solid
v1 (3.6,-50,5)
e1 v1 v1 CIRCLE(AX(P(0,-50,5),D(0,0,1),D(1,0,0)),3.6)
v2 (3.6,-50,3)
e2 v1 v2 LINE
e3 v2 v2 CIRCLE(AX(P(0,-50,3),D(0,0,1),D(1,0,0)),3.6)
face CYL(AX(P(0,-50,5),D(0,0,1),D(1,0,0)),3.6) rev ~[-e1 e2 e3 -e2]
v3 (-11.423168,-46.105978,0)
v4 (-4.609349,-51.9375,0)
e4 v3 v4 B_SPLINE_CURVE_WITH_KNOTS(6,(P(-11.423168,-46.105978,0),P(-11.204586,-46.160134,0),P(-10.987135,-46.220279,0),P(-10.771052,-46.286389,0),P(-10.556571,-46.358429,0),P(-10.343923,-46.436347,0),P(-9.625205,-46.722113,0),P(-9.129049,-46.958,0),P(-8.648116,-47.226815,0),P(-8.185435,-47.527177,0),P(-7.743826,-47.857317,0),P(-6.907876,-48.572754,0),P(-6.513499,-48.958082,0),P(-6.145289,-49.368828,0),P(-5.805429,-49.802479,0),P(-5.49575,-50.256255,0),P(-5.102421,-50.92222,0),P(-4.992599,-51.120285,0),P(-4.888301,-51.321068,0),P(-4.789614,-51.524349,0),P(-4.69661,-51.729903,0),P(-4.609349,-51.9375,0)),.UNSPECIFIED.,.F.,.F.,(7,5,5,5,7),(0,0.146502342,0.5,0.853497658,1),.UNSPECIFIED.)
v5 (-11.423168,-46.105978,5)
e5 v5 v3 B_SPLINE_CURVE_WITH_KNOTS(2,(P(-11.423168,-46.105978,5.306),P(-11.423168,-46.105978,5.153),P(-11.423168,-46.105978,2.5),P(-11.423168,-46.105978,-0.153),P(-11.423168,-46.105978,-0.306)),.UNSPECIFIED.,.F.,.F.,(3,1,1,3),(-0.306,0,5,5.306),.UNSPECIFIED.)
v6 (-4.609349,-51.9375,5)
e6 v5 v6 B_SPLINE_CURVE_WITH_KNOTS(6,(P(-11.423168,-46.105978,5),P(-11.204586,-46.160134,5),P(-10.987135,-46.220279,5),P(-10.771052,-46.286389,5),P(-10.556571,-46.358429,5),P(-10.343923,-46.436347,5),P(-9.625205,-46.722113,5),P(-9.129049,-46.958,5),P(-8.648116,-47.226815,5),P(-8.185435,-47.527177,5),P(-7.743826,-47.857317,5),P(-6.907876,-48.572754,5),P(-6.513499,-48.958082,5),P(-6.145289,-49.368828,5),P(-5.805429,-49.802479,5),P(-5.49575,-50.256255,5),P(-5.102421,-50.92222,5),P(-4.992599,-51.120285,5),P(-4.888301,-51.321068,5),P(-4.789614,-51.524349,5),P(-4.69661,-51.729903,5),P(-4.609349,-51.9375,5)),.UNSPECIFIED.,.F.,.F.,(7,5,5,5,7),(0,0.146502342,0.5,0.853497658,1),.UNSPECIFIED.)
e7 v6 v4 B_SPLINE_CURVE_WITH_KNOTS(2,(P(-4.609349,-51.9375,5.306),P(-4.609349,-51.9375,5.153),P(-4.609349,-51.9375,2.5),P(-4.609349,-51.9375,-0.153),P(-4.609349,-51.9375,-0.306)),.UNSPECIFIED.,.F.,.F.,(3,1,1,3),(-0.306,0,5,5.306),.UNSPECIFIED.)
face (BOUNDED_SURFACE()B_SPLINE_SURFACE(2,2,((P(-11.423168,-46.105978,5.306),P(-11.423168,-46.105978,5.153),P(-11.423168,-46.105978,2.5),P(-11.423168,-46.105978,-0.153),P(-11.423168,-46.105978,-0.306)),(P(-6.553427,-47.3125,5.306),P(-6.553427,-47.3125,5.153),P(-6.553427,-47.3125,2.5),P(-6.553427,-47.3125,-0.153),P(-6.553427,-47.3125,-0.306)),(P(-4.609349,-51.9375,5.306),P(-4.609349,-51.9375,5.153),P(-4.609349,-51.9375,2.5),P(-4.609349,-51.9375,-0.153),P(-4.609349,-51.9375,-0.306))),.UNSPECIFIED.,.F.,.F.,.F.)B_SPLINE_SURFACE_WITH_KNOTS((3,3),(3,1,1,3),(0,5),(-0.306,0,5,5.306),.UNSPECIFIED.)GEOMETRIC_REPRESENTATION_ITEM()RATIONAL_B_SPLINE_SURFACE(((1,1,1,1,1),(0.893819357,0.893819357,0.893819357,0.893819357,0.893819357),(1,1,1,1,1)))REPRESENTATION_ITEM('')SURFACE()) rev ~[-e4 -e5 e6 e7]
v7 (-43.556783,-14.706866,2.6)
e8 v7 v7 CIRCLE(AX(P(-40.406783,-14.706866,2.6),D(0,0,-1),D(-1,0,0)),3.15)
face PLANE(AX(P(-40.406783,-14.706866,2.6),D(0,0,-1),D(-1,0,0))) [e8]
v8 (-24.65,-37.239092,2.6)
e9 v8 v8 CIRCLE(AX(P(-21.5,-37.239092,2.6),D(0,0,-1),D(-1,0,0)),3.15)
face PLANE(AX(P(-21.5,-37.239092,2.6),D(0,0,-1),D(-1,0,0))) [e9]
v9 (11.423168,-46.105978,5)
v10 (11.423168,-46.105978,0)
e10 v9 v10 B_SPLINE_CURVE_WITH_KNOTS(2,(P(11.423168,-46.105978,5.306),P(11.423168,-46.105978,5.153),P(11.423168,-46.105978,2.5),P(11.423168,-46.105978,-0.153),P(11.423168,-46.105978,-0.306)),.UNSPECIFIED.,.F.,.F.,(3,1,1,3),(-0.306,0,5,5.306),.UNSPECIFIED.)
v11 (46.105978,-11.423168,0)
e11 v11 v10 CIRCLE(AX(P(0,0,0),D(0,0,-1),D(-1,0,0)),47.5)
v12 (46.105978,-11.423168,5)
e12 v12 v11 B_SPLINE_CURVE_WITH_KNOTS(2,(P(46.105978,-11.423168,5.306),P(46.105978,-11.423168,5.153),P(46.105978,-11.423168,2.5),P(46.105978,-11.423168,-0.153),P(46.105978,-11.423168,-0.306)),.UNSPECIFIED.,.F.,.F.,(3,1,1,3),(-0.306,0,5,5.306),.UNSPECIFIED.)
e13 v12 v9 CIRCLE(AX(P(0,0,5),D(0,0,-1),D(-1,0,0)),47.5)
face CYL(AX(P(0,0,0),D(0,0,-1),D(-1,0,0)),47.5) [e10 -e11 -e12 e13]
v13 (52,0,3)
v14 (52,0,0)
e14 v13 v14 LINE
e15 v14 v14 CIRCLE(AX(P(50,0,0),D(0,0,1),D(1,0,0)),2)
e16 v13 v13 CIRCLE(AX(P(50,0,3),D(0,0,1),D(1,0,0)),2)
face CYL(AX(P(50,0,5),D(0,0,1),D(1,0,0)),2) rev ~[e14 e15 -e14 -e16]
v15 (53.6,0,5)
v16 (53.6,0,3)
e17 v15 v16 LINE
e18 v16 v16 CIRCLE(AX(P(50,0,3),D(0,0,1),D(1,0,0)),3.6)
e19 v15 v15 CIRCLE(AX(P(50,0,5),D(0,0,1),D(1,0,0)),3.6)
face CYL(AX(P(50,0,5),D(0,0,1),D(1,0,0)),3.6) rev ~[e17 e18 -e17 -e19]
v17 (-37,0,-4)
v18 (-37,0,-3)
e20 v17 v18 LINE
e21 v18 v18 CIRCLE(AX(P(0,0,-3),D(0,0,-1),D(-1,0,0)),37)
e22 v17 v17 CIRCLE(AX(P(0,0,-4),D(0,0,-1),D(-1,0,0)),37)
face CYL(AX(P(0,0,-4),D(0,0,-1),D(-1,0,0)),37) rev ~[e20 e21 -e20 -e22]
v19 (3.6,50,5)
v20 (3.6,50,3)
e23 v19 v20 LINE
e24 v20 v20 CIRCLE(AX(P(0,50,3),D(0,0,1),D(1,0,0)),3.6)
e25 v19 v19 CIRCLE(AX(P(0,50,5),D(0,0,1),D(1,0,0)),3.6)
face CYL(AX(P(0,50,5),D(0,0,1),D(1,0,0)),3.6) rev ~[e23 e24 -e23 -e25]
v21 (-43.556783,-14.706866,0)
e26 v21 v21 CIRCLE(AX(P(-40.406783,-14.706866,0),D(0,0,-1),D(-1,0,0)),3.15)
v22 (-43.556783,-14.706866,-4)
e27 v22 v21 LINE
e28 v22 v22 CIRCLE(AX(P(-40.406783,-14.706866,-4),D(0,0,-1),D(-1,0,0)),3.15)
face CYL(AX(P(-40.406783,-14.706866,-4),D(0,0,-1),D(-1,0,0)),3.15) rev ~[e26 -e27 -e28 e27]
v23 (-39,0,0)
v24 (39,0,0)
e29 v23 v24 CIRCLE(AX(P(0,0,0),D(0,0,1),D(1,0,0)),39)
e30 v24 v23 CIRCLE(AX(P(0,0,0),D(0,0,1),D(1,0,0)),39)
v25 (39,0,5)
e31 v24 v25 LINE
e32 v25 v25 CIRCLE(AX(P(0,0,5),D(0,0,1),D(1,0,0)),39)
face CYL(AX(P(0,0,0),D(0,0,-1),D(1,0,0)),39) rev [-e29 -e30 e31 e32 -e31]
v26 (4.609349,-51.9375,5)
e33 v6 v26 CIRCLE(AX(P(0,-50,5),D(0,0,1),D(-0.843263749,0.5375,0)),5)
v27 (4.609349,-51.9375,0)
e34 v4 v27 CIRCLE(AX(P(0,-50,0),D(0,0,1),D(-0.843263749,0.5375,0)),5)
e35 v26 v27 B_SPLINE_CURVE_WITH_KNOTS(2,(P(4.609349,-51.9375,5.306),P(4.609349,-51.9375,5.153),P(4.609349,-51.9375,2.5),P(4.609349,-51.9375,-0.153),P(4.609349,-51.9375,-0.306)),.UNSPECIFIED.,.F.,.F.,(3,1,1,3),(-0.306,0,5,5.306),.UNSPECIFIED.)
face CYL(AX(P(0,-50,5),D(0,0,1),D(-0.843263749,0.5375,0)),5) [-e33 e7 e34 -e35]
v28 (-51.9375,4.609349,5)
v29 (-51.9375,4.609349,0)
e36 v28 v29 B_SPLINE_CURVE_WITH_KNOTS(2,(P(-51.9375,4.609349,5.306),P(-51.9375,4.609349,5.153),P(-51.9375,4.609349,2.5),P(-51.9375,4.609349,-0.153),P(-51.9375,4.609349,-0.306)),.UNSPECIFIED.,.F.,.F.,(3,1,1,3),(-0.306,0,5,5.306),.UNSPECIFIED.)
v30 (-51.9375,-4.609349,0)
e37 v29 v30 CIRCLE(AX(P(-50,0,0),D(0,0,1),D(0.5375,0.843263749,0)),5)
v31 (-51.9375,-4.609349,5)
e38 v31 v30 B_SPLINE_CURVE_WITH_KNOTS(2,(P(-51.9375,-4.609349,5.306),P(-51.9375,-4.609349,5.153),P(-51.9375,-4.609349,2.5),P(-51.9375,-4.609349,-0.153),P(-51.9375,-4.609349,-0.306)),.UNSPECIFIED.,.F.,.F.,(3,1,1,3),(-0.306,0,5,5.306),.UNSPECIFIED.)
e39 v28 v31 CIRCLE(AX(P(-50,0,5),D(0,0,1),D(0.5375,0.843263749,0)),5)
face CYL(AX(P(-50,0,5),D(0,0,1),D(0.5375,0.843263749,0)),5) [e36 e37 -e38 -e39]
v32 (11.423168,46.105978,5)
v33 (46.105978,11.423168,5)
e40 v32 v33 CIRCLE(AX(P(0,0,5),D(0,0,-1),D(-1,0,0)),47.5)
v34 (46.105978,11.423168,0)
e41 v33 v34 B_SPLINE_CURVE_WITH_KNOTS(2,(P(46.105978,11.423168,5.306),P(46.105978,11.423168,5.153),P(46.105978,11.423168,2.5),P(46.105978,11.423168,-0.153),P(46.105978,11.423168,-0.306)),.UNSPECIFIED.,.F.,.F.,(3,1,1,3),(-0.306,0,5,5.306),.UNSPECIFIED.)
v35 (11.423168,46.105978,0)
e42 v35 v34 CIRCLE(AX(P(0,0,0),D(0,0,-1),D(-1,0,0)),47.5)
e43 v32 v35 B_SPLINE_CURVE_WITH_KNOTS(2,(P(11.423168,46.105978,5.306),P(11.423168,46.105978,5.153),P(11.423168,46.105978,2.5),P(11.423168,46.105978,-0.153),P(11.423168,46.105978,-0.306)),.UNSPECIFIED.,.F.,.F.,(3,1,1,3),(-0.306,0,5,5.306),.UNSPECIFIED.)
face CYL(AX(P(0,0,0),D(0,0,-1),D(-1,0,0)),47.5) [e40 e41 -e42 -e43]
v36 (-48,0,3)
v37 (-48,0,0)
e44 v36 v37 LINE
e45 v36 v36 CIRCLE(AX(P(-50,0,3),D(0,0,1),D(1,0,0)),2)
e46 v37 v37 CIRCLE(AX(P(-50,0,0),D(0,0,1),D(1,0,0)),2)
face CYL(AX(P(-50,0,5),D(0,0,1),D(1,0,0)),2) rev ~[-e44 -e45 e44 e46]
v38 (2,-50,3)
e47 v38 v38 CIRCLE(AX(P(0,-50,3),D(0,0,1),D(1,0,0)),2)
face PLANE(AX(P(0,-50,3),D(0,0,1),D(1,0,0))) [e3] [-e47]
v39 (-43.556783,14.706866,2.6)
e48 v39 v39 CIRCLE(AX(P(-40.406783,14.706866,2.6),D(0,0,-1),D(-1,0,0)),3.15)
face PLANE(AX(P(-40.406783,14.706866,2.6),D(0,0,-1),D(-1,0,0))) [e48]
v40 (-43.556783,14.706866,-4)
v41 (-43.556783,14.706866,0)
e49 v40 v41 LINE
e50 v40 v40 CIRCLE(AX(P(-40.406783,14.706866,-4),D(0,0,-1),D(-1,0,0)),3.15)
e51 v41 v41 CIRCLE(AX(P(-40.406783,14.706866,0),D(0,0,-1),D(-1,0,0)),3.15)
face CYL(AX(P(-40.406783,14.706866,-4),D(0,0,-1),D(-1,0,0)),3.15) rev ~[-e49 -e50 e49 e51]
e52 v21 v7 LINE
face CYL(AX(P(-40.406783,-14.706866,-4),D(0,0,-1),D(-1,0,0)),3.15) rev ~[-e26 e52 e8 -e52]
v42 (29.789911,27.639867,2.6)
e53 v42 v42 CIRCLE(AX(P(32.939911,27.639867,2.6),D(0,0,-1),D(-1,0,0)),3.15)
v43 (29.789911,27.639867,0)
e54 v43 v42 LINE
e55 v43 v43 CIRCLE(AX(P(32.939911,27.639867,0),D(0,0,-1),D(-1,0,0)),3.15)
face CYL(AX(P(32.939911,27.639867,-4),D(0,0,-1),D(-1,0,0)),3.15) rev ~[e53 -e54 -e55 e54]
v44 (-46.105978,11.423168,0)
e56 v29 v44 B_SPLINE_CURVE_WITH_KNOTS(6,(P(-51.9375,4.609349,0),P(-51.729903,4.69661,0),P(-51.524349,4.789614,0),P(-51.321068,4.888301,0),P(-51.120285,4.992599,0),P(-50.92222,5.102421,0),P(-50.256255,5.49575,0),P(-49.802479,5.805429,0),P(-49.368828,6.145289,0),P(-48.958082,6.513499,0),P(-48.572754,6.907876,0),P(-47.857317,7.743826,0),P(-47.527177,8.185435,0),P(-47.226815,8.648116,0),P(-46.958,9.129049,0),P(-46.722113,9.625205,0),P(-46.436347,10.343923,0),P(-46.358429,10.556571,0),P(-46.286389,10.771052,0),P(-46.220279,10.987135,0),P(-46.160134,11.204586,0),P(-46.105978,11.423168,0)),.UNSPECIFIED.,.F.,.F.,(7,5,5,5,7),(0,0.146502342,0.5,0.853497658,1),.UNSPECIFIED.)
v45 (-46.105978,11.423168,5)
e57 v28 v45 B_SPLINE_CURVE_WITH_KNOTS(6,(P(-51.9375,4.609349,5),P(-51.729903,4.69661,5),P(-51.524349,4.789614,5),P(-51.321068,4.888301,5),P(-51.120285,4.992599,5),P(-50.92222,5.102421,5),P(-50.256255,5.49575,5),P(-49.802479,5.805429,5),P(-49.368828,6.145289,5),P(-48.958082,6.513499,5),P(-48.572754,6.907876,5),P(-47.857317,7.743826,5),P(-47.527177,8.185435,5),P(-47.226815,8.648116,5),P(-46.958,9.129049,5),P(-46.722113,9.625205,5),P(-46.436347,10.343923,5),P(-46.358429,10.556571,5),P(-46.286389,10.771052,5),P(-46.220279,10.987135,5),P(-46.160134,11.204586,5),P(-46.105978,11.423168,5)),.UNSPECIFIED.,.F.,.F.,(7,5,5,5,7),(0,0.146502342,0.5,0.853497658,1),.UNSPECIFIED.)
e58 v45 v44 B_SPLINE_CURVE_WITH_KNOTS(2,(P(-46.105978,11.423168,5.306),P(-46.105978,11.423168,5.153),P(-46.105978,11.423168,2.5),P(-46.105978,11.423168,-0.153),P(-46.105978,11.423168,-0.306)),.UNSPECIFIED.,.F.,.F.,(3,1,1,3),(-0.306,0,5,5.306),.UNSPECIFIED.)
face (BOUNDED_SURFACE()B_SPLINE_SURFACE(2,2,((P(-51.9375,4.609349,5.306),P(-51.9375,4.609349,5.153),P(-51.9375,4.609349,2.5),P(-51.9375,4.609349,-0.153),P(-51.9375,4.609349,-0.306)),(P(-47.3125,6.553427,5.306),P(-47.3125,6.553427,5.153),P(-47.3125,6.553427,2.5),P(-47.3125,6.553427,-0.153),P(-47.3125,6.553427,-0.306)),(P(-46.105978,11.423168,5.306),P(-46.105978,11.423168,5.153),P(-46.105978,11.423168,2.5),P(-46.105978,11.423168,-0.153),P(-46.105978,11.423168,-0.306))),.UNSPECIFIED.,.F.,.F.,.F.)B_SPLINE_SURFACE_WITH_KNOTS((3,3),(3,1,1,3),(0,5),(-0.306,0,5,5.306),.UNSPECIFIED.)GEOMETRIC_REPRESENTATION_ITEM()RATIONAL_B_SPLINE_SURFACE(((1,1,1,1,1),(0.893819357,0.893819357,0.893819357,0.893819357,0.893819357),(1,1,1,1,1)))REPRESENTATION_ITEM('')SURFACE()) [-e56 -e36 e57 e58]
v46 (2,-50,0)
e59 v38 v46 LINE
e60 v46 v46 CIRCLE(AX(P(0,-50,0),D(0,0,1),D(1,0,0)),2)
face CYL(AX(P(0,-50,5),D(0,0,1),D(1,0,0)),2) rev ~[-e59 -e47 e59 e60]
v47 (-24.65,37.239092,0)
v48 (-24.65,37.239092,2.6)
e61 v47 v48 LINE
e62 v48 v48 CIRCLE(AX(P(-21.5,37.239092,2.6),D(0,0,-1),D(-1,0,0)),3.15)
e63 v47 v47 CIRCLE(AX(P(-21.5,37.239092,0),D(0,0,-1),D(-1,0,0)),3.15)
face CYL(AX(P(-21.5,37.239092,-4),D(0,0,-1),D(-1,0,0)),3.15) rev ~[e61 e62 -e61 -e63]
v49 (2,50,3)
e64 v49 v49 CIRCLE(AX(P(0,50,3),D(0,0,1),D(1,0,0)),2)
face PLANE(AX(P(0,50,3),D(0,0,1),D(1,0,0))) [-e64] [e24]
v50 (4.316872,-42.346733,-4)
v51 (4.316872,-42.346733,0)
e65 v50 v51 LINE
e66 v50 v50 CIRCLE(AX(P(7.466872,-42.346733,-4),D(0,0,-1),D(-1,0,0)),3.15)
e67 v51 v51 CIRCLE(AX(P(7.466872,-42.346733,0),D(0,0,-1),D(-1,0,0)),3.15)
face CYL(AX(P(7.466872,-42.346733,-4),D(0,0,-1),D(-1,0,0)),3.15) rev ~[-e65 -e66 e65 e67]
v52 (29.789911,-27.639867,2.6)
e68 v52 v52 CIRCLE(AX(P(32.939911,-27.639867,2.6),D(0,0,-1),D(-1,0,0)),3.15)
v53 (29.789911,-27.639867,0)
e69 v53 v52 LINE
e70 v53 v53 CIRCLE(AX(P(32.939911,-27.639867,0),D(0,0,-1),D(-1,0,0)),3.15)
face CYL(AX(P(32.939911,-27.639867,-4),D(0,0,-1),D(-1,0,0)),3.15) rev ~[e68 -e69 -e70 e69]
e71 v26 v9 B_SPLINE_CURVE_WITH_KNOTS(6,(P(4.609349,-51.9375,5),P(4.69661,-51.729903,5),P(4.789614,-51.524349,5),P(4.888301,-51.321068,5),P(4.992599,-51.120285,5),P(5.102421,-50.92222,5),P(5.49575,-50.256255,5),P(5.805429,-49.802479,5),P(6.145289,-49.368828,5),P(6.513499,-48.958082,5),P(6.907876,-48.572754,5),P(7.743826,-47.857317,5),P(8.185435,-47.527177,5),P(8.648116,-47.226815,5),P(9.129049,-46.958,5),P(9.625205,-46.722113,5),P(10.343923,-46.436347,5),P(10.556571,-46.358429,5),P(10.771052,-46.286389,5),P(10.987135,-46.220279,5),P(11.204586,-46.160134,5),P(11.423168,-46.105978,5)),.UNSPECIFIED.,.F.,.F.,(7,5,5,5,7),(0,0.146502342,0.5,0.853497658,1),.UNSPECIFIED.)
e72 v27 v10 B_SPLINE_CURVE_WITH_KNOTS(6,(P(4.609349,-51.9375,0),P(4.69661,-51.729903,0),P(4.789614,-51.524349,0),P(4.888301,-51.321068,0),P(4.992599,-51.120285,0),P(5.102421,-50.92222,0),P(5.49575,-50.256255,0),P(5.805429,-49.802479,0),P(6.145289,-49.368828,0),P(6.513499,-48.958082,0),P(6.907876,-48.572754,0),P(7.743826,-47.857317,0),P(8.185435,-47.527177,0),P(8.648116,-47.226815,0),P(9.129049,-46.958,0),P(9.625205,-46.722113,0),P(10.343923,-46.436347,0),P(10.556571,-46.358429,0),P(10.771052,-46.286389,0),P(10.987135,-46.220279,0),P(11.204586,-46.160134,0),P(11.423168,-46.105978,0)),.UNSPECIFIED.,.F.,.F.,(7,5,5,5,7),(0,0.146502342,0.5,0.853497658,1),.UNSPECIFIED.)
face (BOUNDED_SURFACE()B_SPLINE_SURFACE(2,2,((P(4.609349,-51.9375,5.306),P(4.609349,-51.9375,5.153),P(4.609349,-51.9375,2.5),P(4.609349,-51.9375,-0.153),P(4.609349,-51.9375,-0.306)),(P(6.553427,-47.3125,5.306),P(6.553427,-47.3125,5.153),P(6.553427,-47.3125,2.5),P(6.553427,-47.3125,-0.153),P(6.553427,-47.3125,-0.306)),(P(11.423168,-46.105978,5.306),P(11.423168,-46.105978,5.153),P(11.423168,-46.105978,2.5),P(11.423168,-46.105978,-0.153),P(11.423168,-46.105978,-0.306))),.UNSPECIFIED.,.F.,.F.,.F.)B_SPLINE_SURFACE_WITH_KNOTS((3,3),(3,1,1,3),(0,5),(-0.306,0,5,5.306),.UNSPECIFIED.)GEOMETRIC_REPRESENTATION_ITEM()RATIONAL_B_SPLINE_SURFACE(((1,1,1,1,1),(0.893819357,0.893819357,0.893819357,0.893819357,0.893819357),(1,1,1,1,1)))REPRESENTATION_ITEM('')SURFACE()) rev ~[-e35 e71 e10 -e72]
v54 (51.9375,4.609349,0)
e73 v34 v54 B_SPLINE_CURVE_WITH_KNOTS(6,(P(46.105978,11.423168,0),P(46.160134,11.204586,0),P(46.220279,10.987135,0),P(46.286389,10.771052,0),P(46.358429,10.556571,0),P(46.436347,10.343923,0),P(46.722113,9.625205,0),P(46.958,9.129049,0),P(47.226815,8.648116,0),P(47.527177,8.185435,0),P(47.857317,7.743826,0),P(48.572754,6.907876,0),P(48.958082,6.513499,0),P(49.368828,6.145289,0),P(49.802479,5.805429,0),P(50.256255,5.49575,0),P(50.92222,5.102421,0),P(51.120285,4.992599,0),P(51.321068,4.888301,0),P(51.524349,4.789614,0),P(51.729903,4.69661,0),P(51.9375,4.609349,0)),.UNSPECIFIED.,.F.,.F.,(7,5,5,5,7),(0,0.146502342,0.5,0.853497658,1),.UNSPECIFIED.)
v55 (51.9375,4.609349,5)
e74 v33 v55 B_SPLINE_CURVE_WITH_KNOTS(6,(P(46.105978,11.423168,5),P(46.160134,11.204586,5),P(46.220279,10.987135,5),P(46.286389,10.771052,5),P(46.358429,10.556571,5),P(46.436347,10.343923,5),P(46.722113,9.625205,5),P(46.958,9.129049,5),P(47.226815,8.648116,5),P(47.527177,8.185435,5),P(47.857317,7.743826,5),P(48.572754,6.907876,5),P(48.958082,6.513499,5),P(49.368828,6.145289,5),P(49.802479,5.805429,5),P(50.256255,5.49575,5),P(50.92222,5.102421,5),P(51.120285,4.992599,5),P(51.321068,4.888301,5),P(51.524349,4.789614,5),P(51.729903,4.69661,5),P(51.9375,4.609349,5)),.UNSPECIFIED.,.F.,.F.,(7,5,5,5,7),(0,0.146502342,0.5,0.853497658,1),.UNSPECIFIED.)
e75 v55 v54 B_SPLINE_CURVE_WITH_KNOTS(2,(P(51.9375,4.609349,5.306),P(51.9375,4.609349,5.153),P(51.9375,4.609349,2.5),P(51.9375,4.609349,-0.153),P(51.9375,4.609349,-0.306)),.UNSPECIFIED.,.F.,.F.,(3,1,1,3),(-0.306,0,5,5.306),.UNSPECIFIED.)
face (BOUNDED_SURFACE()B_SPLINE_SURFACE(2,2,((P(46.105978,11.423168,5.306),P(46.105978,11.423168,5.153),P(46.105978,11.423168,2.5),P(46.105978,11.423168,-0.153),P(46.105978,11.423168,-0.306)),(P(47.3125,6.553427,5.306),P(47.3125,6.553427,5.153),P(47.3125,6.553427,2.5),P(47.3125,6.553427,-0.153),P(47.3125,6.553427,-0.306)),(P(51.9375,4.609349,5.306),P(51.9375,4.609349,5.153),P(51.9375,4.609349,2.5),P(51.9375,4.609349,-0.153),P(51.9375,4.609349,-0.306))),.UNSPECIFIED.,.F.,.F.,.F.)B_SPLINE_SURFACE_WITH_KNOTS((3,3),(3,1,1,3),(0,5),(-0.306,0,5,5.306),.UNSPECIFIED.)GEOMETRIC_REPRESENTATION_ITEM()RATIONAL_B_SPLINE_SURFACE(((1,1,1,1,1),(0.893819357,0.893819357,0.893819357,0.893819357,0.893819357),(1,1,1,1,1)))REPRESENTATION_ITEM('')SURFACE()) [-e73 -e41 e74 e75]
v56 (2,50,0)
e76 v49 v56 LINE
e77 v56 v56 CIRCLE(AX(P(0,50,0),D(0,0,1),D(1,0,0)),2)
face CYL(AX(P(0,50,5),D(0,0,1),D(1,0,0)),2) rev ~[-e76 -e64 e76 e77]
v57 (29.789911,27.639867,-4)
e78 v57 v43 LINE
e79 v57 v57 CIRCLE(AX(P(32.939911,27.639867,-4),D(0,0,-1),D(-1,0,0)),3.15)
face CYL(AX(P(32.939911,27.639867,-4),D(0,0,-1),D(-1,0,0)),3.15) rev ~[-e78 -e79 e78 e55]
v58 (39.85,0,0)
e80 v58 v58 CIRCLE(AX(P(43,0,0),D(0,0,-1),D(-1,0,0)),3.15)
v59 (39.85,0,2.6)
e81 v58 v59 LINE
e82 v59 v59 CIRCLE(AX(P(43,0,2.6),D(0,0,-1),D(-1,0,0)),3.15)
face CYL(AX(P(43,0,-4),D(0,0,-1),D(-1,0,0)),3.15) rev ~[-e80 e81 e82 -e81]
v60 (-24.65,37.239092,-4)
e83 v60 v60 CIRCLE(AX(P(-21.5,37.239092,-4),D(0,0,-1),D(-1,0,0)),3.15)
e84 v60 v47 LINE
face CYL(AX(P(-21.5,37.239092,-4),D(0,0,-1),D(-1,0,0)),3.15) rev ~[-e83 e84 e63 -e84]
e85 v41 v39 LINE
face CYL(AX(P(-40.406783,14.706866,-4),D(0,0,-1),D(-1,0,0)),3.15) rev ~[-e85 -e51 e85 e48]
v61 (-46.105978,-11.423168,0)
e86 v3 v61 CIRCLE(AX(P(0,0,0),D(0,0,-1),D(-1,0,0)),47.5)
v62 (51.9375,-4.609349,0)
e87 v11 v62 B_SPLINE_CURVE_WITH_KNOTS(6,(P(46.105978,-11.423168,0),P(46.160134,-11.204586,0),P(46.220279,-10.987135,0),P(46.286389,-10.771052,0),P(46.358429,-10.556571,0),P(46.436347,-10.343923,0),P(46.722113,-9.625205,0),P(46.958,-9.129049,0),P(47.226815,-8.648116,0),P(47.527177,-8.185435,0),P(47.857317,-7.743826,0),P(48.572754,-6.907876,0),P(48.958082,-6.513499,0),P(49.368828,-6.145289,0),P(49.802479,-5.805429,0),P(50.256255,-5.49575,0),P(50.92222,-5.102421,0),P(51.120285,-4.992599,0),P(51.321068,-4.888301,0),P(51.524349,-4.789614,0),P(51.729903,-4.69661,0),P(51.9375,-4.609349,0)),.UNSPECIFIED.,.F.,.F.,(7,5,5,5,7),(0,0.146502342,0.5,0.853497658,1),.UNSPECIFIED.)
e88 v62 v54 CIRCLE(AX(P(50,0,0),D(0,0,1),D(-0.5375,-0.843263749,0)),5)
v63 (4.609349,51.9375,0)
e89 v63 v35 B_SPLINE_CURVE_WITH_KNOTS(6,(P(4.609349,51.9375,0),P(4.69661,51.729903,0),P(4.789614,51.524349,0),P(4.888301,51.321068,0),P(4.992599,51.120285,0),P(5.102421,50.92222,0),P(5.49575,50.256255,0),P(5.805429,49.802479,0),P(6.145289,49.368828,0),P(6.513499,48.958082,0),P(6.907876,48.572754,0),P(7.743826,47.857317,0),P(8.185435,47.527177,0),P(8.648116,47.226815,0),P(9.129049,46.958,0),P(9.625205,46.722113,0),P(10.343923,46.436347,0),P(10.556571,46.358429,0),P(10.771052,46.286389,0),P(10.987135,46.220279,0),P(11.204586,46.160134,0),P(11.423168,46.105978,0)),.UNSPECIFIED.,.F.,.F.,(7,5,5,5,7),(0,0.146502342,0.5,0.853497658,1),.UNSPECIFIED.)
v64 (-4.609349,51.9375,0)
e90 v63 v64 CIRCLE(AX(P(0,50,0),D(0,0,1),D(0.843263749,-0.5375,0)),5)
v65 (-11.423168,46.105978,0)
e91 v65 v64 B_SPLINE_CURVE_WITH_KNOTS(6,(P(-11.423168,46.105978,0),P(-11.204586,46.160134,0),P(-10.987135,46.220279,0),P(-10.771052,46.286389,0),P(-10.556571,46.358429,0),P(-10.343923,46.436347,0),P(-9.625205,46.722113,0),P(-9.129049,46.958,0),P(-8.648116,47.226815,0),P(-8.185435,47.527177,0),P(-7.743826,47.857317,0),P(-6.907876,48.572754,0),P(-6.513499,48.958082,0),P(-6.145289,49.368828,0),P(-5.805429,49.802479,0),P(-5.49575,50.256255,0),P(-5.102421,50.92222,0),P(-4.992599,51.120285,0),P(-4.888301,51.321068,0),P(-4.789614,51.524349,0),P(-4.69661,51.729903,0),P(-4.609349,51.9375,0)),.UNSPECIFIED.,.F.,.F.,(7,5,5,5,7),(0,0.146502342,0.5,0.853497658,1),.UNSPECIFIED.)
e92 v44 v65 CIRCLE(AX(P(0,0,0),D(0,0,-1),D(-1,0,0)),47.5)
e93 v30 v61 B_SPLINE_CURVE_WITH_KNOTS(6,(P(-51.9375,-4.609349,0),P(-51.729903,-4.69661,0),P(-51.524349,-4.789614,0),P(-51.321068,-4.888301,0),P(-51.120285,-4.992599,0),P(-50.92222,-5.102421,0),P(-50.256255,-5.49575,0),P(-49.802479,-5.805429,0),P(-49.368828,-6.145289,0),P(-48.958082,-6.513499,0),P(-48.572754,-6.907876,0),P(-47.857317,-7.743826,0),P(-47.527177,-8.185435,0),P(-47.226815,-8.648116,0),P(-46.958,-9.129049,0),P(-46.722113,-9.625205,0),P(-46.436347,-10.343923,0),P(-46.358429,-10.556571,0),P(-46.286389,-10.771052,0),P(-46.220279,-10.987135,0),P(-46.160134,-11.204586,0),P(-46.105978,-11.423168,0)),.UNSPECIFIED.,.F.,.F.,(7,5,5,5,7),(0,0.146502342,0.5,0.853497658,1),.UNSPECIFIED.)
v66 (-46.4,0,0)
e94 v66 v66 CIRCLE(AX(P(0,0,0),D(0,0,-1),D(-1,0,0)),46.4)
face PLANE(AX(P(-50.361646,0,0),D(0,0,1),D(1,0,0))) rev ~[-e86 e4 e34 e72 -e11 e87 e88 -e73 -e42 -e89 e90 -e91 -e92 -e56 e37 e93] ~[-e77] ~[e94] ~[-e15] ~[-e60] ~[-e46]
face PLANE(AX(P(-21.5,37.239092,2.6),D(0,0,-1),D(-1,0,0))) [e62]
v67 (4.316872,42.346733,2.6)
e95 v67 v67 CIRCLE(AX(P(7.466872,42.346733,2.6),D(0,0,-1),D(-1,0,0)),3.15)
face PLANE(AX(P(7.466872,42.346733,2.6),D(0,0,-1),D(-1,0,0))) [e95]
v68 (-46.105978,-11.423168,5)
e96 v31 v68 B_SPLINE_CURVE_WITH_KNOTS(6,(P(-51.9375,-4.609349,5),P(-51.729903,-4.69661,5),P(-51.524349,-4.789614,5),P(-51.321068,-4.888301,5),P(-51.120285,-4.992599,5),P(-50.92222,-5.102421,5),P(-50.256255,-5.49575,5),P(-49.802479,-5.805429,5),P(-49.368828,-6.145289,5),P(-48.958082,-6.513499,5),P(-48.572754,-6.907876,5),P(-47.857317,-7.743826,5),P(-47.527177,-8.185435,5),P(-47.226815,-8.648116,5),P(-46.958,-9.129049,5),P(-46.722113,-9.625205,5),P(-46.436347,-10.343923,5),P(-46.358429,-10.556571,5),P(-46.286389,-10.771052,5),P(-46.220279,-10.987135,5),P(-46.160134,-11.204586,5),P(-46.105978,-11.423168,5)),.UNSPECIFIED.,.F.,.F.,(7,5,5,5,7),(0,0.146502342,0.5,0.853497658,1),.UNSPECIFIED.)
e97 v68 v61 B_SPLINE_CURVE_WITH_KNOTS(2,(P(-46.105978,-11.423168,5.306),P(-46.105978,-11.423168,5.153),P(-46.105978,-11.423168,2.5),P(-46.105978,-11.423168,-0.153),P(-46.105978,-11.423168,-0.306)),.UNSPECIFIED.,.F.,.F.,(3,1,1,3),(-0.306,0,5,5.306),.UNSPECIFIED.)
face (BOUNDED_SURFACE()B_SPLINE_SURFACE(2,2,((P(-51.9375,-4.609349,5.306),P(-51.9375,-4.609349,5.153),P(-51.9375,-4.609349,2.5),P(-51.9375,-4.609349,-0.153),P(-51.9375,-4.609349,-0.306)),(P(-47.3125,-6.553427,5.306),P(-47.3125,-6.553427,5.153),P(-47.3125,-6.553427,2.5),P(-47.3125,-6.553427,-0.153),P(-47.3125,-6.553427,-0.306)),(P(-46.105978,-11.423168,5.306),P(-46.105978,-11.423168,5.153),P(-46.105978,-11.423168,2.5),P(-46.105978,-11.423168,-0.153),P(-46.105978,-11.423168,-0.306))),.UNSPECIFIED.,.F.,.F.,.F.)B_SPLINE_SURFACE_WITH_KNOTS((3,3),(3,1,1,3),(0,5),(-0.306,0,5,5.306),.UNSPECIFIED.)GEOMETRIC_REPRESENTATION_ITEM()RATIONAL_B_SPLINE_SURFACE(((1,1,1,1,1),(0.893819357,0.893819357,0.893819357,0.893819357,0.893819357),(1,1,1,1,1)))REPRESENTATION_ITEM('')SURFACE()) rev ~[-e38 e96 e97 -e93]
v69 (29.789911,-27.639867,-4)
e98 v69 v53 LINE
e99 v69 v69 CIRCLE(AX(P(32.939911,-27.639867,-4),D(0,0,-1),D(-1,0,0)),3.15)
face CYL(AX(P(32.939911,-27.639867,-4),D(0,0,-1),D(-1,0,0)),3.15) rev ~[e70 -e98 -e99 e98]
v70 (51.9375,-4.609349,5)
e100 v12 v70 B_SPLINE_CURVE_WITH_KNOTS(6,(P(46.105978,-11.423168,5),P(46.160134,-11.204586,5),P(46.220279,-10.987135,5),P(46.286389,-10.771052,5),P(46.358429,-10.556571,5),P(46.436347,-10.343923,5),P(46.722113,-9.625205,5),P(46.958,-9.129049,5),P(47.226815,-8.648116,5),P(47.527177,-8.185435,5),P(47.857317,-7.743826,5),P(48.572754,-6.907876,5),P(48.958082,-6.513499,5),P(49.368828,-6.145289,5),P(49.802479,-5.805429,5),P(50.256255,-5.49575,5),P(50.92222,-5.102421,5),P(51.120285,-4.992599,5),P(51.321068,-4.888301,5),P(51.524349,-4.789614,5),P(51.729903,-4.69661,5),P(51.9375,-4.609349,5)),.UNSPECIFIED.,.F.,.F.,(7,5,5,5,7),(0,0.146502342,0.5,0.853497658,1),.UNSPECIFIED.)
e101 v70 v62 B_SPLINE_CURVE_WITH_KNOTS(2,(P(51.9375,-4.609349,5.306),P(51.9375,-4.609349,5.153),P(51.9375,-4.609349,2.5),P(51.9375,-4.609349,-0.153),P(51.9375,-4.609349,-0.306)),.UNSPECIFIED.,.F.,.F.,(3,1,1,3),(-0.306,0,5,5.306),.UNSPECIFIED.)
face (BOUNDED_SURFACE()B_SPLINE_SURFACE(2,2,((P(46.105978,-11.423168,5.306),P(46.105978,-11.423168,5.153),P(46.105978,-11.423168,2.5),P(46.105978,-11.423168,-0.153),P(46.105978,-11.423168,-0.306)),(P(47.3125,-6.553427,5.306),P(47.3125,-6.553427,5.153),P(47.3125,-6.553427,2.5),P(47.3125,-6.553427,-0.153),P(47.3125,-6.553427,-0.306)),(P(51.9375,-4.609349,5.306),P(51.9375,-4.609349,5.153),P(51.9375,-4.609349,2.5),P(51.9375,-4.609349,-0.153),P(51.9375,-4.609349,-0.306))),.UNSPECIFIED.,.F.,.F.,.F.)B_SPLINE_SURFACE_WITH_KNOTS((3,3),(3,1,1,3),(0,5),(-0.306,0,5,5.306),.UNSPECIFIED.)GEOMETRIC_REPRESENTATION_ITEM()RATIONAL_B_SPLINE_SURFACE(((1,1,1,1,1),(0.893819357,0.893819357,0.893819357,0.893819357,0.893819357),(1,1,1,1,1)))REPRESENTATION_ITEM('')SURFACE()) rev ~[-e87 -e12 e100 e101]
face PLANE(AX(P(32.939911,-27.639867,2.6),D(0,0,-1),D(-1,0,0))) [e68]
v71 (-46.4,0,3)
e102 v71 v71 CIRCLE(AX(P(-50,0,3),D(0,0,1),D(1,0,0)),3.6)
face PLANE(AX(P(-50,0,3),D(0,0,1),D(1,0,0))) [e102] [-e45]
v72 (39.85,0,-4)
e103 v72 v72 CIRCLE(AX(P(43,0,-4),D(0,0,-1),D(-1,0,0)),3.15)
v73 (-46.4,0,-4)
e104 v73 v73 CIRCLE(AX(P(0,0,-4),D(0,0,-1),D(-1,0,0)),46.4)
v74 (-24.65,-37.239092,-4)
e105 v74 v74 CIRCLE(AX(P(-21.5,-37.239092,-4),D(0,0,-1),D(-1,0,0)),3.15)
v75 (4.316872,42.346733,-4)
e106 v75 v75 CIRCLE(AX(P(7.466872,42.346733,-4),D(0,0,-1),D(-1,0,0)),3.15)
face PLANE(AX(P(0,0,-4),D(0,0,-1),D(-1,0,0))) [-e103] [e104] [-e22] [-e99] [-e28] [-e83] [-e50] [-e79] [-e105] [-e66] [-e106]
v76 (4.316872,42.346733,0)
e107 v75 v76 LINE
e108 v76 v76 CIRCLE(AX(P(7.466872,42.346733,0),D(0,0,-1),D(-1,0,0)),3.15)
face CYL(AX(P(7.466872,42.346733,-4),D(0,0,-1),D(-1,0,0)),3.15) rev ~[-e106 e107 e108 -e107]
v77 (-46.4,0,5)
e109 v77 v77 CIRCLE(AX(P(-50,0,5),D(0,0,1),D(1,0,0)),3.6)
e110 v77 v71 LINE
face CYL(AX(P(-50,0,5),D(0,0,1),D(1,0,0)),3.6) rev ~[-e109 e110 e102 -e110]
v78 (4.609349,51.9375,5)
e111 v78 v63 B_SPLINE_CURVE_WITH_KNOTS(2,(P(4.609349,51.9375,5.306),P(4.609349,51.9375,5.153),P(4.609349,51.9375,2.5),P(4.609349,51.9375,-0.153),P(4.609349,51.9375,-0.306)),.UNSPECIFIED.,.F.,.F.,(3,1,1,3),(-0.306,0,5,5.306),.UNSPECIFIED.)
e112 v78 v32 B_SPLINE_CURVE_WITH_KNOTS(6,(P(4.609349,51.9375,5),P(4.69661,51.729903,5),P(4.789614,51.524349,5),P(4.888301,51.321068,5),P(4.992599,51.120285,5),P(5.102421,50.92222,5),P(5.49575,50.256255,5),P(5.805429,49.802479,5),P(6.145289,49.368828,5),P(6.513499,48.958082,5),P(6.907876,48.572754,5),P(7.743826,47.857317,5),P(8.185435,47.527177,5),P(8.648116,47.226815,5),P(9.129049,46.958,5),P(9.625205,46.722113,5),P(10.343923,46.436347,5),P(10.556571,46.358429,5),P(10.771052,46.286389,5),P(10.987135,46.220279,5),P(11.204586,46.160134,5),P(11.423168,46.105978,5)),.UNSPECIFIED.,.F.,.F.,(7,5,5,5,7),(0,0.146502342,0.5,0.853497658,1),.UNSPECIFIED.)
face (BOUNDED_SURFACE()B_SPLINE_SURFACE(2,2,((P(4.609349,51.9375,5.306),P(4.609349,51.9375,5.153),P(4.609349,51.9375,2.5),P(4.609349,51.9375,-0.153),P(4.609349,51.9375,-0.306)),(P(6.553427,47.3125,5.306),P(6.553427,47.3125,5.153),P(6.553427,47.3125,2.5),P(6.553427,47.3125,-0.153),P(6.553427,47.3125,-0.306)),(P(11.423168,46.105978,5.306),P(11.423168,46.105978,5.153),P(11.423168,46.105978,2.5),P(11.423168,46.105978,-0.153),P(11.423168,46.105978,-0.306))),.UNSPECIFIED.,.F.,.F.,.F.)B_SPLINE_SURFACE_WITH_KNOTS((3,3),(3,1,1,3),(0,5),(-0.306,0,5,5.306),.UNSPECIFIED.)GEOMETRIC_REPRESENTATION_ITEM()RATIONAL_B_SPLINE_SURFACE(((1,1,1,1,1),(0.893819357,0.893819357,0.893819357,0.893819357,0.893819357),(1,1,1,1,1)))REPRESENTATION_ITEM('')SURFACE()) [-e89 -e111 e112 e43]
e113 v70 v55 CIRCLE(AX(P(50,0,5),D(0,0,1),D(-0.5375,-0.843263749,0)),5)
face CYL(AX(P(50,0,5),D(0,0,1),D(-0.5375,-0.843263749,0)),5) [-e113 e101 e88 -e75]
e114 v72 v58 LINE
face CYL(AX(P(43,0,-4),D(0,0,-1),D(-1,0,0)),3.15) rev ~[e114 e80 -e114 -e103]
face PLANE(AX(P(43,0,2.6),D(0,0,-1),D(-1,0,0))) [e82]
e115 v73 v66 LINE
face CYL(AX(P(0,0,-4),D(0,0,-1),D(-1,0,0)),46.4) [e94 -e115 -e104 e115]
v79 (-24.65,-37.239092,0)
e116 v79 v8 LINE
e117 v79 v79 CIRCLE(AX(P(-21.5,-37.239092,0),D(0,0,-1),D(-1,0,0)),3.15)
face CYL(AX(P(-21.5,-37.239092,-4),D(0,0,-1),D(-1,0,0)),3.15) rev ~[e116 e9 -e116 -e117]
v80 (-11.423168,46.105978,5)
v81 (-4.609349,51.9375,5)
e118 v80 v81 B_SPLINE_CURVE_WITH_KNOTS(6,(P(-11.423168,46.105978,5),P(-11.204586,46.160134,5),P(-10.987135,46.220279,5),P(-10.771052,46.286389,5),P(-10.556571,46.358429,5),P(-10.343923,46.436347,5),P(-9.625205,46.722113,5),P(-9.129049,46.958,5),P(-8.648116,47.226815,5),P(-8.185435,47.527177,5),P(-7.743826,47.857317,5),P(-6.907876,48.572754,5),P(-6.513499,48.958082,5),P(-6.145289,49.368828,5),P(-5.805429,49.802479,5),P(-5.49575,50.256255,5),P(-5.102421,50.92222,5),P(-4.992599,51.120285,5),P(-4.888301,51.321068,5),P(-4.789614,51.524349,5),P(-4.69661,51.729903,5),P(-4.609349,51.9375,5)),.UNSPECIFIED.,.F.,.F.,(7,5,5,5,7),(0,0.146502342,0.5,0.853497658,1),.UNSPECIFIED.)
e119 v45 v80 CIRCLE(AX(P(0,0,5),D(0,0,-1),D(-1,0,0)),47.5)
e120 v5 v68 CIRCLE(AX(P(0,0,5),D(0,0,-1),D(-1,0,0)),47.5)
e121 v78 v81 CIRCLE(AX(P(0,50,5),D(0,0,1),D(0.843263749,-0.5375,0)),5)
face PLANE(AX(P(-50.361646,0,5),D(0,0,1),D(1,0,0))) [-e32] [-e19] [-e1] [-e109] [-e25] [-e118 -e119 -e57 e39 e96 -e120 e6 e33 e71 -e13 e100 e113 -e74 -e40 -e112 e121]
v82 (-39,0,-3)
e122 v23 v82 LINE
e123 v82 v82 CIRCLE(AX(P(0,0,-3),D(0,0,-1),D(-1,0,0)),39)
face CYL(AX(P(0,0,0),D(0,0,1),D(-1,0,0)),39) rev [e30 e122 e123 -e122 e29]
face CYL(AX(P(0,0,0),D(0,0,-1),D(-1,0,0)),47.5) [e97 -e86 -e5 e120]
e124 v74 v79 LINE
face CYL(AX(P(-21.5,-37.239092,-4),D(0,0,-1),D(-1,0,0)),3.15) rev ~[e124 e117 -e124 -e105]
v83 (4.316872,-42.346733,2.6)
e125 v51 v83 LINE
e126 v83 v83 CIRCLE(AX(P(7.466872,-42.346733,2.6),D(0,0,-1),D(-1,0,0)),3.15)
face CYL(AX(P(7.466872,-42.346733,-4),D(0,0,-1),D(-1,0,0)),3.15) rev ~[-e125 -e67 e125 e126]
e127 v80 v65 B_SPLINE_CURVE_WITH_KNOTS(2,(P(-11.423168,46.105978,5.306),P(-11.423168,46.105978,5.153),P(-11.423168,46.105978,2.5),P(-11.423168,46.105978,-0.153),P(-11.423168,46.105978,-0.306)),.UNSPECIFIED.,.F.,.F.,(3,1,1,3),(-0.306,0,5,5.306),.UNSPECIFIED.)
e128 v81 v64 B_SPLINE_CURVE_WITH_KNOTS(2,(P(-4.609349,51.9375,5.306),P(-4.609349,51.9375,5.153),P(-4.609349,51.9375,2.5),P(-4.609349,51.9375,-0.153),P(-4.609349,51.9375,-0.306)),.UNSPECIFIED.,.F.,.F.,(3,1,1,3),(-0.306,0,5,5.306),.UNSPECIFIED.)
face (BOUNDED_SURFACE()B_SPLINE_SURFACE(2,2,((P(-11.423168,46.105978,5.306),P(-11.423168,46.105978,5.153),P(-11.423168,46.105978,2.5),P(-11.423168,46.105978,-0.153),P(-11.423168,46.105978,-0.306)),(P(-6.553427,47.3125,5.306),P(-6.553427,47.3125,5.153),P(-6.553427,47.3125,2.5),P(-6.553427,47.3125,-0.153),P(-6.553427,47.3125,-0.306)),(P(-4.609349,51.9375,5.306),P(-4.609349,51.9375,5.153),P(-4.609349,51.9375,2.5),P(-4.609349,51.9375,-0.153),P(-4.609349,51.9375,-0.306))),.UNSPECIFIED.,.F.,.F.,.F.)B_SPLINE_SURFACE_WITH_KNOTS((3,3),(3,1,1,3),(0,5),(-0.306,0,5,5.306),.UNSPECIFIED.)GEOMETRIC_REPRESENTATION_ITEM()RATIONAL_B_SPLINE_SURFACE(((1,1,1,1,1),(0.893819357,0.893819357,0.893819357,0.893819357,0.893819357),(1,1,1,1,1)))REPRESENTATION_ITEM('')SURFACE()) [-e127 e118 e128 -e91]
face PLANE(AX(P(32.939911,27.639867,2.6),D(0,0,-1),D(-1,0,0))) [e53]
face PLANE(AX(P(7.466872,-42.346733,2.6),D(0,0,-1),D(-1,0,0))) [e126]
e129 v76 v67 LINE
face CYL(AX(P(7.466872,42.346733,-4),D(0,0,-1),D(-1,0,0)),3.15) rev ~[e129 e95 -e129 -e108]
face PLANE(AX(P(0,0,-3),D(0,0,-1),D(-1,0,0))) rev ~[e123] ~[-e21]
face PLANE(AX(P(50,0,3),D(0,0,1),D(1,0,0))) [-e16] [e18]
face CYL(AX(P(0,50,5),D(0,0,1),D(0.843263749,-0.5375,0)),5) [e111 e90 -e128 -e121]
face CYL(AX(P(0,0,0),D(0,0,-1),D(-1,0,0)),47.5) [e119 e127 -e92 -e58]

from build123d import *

# Parameters (mm, degrees)
SKETCH2_R           = 50
SKETCH2_R_2         = 39
BOSS_EXTRUDE1_DEPTH = 5
SKETCH3_R           = 47
SKETCH3_R_2         = 3
SKETCH3_R_3         = 39
BOSS_EXTRUDE2_DEPTH = 4
SKETCH4_R           = 39
SKETCH4_R_2         = 37
BOSS_EXTRUDE3_DEPTH = 1
SKETCH6_R           = 5
SKETCH6_R_2         = 2
BOSS_EXTRUDE4_DEPTH = 5
FILLET1_R           = 5
SKETCH7_R           = 3.6
CUT_EXTRUDE1_DEPTH  = 3
SKETCH8_R           = 3.15
CUT_EXTRUDE2_DEPTH  = 4
SKETCH9_R           = 3.15
CUT_EXTRUDE3_DEPTH  = 6.6
SKETCH10_R          = 57.5
SKETCH10_R_2        = 47.5
CUT_EXTRUDE4_DEPTH  = 5
SKETCH11_R          = 47.5
SKETCH11_R_2        = 46.4
CUT_EXTRUDE5_DEPTH  = 4
SKETCH12_R          = 2
BOSS_EXTRUDE7_DEPTH = 5
FILLET3_R           = 10
SKETCH14_R          = 3.6
CUT_EXTRUDE8_DEPTH  = 2


with BuildPart() as part:
    # Sketch2 → Boss-Extrude1 (new body)
    with BuildSketch(Plane.XY):
        Circle(SKETCH2_R)
        Circle(SKETCH2_R_2, mode=Mode.SUBTRACT)
    extrude(amount=BOSS_EXTRUDE1_DEPTH)

    # Sketch3 → Boss-Extrude2 (add)
    with BuildSketch(Plane(origin=(0, 0, 0), x_dir=(-1, 0, 0), z_dir=(0, 0, -1))):
        Circle(SKETCH3_R)
        with Locations((-43, 0)):
            Circle(SKETCH3_R_2, mode=Mode.SUBTRACT)
        Circle(SKETCH3_R_3, mode=Mode.SUBTRACT)
        with Locations((-32.939911054, 27.639867217)):
            Circle(SKETCH3_R_2, mode=Mode.SUBTRACT)
        with Locations((-7.46687164, 42.34673338)):
            Circle(SKETCH3_R_2, mode=Mode.SUBTRACT)
        with Locations((21.5, 37.239092363)):
            Circle(SKETCH3_R_2, mode=Mode.SUBTRACT)
        with Locations((40.406782694, 14.706866163)):
            Circle(SKETCH3_R_2, mode=Mode.SUBTRACT)
        with Locations((40.406782694, -14.706866163)):
            Circle(SKETCH3_R_2, mode=Mode.SUBTRACT)
        with Locations((21.5, -37.239092363)):
            Circle(SKETCH3_R_2, mode=Mode.SUBTRACT)
        with Locations((-7.46687164, -42.34673338)):
            Circle(SKETCH3_R_2, mode=Mode.SUBTRACT)
        with Locations((-32.939911054, -27.639867217)):
            Circle(SKETCH3_R_2, mode=Mode.SUBTRACT)
    extrude(amount=BOSS_EXTRUDE2_DEPTH)

    # Sketch4 → Boss-Extrude3 (add)
    with BuildSketch(Plane(origin=(0, 0, -4), x_dir=(-1, 0, 0), z_dir=(0, 0, -1))):
        Circle(SKETCH4_R)
        Circle(SKETCH4_R_2, mode=Mode.SUBTRACT)
    extrude(amount=-BOSS_EXTRUDE3_DEPTH)

    # Sketch6 → Boss-Extrude4 (add)
    with BuildSketch(Plane.XY.offset(5)):
        with Locations((52, 0)):
            Circle(SKETCH6_R)
        with Locations((52, 0)):
            Circle(SKETCH6_R_2, mode=Mode.SUBTRACT)
        with Locations((-52, 0)):
            Circle(SKETCH6_R)
        with Locations((-52, 0)):
            Circle(SKETCH6_R_2, mode=Mode.SUBTRACT)
        with Locations((0, 52)):
            Circle(SKETCH6_R)
        with Locations((0, 52)):
            Circle(SKETCH6_R_2, mode=Mode.SUBTRACT)
        with Locations((0, -52)):
            Circle(SKETCH6_R)
        with Locations((0, -52)):
            Circle(SKETCH6_R_2, mode=Mode.SUBTRACT)
    extrude(amount=-BOSS_EXTRUDE4_DEPTH)

    # Fillet1
    fillet1_edges = [part.edges().sort_by_distance(p)[0] for p in [
        (49.798076923, -4.489046086, 2.5),
        (49.798076923, 4.489046086, 2.5),
        (-49.798076923, 4.489046086, 2.5),
        (-49.798076923, -4.489046086, 2.5),
        (4.489046086, 49.798076923, 2.5),
        (-4.489046086, 49.798076923, 2.5),
        (-4.489046086, -49.798076923, 2.5),
        (4.489046086, -49.798076923, 2.5),
    ]]
    fillet(fillet1_edges, radius=FILLET1_R)

    # Sketch7 → Cut-Extrude1 (cut)
    with BuildSketch(Plane.XY.offset(5)):
        with Locations((52, 0)):
            Circle(SKETCH7_R)
        with Locations((0, 52)):
            Circle(SKETCH7_R)
        with Locations((-52, 0)):
            Circle(SKETCH7_R)
        with Locations((0, -52)):
            Circle(SKETCH7_R)
    extrude(amount=-CUT_EXTRUDE1_DEPTH, mode=Mode.SUBTRACT)

    # Sketch8 → Cut-Extrude2 (cut)
    with BuildSketch(Plane(origin=(0, 0, -4), x_dir=(-1, 0, 0), z_dir=(0, 0, -1))):
        with Locations((-32.939911054, 27.639867217)):
            Circle(SKETCH8_R)
        with Locations((-43, 0)):
            Circle(SKETCH8_R)
        with Locations((-7.46687164, 42.34673338)):
            Circle(SKETCH8_R)
        with Locations((21.5, 37.239092363)):
            Circle(SKETCH8_R)
        with Locations((40.406782694, 14.706866163)):
            Circle(SKETCH8_R)
        with Locations((40.406782694, -14.706866163)):
            Circle(SKETCH8_R)
        with Locations((21.5, -37.239092363)):
            Circle(SKETCH8_R)
        with Locations((-7.46687164, -42.34673338)):
            Circle(SKETCH8_R)
        with Locations((-32.939911054, -27.639867217)):
            Circle(SKETCH8_R)
    extrude(amount=-CUT_EXTRUDE2_DEPTH, mode=Mode.SUBTRACT)

    # Sketch9 → Cut-Extrude3 (cut)
    with BuildSketch(Plane(origin=(0, 0, -4), x_dir=(-1, 0, 0), z_dir=(0, 0, -1))):
        with Locations((-43, 0)):
            Circle(SKETCH9_R)
        with Locations((-32.939911054, 27.639867217)):
            Circle(SKETCH9_R)
        with Locations((-7.46687164, 42.34673338)):
            Circle(SKETCH9_R)
        with Locations((21.5, 37.239092363)):
            Circle(SKETCH9_R)
        with Locations((40.406782694, 14.706866163)):
            Circle(SKETCH9_R)
        with Locations((40.406782694, -14.706866163)):
            Circle(SKETCH9_R)
        with Locations((21.5, -37.239092363)):
            Circle(SKETCH9_R)
        with Locations((-7.46687164, -42.34673338)):
            Circle(SKETCH9_R)
        with Locations((-32.939911054, -27.639867217)):
            Circle(SKETCH9_R)
    extrude(amount=-CUT_EXTRUDE3_DEPTH, mode=Mode.SUBTRACT)

    # Sketch10 → Cut-Extrude4 (cut)
    with BuildSketch(Plane(origin=(0, 0, 0), x_dir=(-1, 0, 0), z_dir=(0, 0, -1))):
        Circle(SKETCH10_R)
        Circle(SKETCH10_R_2, mode=Mode.SUBTRACT)
    extrude(amount=-CUT_EXTRUDE4_DEPTH, mode=Mode.SUBTRACT)

    # Sketch11 → Cut-Extrude5 (cut)
    with BuildSketch(Plane(origin=(0, 0, -4), x_dir=(-1, 0, 0), z_dir=(0, 0, -1))):
        Circle(SKETCH11_R)
        Circle(SKETCH11_R_2, mode=Mode.SUBTRACT)
    extrude(amount=-CUT_EXTRUDE5_DEPTH, mode=Mode.SUBTRACT)

    # Sketch12 → Boss-Extrude7 (add)
    with BuildSketch(Plane.XY.offset(5)):
        with BuildLine():
            ThreePointArc((47.3125, -4.216318744), (55, 0), (47.3125, 4.216318744))
            ThreePointArc((47.3125, 4.216318744), (47.5, 0), (47.3125, -4.216318744))
        make_face()
        with Locations((50, 0)):
            Circle(SKETCH12_R, mode=Mode.SUBTRACT)
        with BuildLine():
            ThreePointArc((-4.216318744, 47.3125), (0, 47.5), (4.216318744, 47.3125))
            ThreePointArc((4.216318744, 47.3125), (0, 55), (-4.216318744, 47.3125))
        make_face()
        with Locations((0, 50)):
            Circle(SKETCH12_R, mode=Mode.SUBTRACT)
        with BuildLine():
            ThreePointArc((-4.216318744, -47.3125), (0, -55), (4.216318744, -47.3125))
            ThreePointArc((4.216318744, -47.3125), (0, -47.5), (-4.216318744, -47.3125))
        make_face()
        with Locations((0, -50)):
            Circle(SKETCH12_R, mode=Mode.SUBTRACT)
        with BuildLine():
            ThreePointArc((-47.3125, -4.216318744), (-47.5, 0), (-47.3125, 4.216318744))
            ThreePointArc((-47.3125, 4.216318744), (-55, 0), (-47.3125, -4.216318744))
        make_face()
        with Locations((-50, 0)):
            Circle(SKETCH12_R, mode=Mode.SUBTRACT)
    extrude(amount=-BOSS_EXTRUDE7_DEPTH)

    # Fillet3
    fillet3_edges = [part.edges().sort_by_distance(p)[0] for p in [
        (47.3125, -4.216318744, 2.5),
        (47.3125, 4.216318744, 2.5),
        (4.216318744, 47.3125, 2.5),
        (-4.216318744, 47.3125, 2.5),
        (-47.3125, 4.216318744, 2.5),
        (-47.3125, -4.216318744, 2.5),
        (-4.216318744, -47.3125, 2.5),
        (4.216318744, -47.3125, 2.5),
    ]]
    fillet(fillet3_edges, radius=FILLET3_R)

    # Sketch14 → Cut-Extrude8 (cut)
    with BuildSketch(Plane.XY.offset(5)):
        with Locations((50, 0)):
            Circle(SKETCH14_R)
        with Locations((0, -50)):
            Circle(SKETCH14_R)
        with Locations((-50, 0)):
            Circle(SKETCH14_R)
        with Locations((0, 50)):
            Circle(SKETCH14_R)
    extrude(amount=-CUT_EXTRUDE8_DEPTH, mode=Mode.SUBTRACT)


solid = part.part
